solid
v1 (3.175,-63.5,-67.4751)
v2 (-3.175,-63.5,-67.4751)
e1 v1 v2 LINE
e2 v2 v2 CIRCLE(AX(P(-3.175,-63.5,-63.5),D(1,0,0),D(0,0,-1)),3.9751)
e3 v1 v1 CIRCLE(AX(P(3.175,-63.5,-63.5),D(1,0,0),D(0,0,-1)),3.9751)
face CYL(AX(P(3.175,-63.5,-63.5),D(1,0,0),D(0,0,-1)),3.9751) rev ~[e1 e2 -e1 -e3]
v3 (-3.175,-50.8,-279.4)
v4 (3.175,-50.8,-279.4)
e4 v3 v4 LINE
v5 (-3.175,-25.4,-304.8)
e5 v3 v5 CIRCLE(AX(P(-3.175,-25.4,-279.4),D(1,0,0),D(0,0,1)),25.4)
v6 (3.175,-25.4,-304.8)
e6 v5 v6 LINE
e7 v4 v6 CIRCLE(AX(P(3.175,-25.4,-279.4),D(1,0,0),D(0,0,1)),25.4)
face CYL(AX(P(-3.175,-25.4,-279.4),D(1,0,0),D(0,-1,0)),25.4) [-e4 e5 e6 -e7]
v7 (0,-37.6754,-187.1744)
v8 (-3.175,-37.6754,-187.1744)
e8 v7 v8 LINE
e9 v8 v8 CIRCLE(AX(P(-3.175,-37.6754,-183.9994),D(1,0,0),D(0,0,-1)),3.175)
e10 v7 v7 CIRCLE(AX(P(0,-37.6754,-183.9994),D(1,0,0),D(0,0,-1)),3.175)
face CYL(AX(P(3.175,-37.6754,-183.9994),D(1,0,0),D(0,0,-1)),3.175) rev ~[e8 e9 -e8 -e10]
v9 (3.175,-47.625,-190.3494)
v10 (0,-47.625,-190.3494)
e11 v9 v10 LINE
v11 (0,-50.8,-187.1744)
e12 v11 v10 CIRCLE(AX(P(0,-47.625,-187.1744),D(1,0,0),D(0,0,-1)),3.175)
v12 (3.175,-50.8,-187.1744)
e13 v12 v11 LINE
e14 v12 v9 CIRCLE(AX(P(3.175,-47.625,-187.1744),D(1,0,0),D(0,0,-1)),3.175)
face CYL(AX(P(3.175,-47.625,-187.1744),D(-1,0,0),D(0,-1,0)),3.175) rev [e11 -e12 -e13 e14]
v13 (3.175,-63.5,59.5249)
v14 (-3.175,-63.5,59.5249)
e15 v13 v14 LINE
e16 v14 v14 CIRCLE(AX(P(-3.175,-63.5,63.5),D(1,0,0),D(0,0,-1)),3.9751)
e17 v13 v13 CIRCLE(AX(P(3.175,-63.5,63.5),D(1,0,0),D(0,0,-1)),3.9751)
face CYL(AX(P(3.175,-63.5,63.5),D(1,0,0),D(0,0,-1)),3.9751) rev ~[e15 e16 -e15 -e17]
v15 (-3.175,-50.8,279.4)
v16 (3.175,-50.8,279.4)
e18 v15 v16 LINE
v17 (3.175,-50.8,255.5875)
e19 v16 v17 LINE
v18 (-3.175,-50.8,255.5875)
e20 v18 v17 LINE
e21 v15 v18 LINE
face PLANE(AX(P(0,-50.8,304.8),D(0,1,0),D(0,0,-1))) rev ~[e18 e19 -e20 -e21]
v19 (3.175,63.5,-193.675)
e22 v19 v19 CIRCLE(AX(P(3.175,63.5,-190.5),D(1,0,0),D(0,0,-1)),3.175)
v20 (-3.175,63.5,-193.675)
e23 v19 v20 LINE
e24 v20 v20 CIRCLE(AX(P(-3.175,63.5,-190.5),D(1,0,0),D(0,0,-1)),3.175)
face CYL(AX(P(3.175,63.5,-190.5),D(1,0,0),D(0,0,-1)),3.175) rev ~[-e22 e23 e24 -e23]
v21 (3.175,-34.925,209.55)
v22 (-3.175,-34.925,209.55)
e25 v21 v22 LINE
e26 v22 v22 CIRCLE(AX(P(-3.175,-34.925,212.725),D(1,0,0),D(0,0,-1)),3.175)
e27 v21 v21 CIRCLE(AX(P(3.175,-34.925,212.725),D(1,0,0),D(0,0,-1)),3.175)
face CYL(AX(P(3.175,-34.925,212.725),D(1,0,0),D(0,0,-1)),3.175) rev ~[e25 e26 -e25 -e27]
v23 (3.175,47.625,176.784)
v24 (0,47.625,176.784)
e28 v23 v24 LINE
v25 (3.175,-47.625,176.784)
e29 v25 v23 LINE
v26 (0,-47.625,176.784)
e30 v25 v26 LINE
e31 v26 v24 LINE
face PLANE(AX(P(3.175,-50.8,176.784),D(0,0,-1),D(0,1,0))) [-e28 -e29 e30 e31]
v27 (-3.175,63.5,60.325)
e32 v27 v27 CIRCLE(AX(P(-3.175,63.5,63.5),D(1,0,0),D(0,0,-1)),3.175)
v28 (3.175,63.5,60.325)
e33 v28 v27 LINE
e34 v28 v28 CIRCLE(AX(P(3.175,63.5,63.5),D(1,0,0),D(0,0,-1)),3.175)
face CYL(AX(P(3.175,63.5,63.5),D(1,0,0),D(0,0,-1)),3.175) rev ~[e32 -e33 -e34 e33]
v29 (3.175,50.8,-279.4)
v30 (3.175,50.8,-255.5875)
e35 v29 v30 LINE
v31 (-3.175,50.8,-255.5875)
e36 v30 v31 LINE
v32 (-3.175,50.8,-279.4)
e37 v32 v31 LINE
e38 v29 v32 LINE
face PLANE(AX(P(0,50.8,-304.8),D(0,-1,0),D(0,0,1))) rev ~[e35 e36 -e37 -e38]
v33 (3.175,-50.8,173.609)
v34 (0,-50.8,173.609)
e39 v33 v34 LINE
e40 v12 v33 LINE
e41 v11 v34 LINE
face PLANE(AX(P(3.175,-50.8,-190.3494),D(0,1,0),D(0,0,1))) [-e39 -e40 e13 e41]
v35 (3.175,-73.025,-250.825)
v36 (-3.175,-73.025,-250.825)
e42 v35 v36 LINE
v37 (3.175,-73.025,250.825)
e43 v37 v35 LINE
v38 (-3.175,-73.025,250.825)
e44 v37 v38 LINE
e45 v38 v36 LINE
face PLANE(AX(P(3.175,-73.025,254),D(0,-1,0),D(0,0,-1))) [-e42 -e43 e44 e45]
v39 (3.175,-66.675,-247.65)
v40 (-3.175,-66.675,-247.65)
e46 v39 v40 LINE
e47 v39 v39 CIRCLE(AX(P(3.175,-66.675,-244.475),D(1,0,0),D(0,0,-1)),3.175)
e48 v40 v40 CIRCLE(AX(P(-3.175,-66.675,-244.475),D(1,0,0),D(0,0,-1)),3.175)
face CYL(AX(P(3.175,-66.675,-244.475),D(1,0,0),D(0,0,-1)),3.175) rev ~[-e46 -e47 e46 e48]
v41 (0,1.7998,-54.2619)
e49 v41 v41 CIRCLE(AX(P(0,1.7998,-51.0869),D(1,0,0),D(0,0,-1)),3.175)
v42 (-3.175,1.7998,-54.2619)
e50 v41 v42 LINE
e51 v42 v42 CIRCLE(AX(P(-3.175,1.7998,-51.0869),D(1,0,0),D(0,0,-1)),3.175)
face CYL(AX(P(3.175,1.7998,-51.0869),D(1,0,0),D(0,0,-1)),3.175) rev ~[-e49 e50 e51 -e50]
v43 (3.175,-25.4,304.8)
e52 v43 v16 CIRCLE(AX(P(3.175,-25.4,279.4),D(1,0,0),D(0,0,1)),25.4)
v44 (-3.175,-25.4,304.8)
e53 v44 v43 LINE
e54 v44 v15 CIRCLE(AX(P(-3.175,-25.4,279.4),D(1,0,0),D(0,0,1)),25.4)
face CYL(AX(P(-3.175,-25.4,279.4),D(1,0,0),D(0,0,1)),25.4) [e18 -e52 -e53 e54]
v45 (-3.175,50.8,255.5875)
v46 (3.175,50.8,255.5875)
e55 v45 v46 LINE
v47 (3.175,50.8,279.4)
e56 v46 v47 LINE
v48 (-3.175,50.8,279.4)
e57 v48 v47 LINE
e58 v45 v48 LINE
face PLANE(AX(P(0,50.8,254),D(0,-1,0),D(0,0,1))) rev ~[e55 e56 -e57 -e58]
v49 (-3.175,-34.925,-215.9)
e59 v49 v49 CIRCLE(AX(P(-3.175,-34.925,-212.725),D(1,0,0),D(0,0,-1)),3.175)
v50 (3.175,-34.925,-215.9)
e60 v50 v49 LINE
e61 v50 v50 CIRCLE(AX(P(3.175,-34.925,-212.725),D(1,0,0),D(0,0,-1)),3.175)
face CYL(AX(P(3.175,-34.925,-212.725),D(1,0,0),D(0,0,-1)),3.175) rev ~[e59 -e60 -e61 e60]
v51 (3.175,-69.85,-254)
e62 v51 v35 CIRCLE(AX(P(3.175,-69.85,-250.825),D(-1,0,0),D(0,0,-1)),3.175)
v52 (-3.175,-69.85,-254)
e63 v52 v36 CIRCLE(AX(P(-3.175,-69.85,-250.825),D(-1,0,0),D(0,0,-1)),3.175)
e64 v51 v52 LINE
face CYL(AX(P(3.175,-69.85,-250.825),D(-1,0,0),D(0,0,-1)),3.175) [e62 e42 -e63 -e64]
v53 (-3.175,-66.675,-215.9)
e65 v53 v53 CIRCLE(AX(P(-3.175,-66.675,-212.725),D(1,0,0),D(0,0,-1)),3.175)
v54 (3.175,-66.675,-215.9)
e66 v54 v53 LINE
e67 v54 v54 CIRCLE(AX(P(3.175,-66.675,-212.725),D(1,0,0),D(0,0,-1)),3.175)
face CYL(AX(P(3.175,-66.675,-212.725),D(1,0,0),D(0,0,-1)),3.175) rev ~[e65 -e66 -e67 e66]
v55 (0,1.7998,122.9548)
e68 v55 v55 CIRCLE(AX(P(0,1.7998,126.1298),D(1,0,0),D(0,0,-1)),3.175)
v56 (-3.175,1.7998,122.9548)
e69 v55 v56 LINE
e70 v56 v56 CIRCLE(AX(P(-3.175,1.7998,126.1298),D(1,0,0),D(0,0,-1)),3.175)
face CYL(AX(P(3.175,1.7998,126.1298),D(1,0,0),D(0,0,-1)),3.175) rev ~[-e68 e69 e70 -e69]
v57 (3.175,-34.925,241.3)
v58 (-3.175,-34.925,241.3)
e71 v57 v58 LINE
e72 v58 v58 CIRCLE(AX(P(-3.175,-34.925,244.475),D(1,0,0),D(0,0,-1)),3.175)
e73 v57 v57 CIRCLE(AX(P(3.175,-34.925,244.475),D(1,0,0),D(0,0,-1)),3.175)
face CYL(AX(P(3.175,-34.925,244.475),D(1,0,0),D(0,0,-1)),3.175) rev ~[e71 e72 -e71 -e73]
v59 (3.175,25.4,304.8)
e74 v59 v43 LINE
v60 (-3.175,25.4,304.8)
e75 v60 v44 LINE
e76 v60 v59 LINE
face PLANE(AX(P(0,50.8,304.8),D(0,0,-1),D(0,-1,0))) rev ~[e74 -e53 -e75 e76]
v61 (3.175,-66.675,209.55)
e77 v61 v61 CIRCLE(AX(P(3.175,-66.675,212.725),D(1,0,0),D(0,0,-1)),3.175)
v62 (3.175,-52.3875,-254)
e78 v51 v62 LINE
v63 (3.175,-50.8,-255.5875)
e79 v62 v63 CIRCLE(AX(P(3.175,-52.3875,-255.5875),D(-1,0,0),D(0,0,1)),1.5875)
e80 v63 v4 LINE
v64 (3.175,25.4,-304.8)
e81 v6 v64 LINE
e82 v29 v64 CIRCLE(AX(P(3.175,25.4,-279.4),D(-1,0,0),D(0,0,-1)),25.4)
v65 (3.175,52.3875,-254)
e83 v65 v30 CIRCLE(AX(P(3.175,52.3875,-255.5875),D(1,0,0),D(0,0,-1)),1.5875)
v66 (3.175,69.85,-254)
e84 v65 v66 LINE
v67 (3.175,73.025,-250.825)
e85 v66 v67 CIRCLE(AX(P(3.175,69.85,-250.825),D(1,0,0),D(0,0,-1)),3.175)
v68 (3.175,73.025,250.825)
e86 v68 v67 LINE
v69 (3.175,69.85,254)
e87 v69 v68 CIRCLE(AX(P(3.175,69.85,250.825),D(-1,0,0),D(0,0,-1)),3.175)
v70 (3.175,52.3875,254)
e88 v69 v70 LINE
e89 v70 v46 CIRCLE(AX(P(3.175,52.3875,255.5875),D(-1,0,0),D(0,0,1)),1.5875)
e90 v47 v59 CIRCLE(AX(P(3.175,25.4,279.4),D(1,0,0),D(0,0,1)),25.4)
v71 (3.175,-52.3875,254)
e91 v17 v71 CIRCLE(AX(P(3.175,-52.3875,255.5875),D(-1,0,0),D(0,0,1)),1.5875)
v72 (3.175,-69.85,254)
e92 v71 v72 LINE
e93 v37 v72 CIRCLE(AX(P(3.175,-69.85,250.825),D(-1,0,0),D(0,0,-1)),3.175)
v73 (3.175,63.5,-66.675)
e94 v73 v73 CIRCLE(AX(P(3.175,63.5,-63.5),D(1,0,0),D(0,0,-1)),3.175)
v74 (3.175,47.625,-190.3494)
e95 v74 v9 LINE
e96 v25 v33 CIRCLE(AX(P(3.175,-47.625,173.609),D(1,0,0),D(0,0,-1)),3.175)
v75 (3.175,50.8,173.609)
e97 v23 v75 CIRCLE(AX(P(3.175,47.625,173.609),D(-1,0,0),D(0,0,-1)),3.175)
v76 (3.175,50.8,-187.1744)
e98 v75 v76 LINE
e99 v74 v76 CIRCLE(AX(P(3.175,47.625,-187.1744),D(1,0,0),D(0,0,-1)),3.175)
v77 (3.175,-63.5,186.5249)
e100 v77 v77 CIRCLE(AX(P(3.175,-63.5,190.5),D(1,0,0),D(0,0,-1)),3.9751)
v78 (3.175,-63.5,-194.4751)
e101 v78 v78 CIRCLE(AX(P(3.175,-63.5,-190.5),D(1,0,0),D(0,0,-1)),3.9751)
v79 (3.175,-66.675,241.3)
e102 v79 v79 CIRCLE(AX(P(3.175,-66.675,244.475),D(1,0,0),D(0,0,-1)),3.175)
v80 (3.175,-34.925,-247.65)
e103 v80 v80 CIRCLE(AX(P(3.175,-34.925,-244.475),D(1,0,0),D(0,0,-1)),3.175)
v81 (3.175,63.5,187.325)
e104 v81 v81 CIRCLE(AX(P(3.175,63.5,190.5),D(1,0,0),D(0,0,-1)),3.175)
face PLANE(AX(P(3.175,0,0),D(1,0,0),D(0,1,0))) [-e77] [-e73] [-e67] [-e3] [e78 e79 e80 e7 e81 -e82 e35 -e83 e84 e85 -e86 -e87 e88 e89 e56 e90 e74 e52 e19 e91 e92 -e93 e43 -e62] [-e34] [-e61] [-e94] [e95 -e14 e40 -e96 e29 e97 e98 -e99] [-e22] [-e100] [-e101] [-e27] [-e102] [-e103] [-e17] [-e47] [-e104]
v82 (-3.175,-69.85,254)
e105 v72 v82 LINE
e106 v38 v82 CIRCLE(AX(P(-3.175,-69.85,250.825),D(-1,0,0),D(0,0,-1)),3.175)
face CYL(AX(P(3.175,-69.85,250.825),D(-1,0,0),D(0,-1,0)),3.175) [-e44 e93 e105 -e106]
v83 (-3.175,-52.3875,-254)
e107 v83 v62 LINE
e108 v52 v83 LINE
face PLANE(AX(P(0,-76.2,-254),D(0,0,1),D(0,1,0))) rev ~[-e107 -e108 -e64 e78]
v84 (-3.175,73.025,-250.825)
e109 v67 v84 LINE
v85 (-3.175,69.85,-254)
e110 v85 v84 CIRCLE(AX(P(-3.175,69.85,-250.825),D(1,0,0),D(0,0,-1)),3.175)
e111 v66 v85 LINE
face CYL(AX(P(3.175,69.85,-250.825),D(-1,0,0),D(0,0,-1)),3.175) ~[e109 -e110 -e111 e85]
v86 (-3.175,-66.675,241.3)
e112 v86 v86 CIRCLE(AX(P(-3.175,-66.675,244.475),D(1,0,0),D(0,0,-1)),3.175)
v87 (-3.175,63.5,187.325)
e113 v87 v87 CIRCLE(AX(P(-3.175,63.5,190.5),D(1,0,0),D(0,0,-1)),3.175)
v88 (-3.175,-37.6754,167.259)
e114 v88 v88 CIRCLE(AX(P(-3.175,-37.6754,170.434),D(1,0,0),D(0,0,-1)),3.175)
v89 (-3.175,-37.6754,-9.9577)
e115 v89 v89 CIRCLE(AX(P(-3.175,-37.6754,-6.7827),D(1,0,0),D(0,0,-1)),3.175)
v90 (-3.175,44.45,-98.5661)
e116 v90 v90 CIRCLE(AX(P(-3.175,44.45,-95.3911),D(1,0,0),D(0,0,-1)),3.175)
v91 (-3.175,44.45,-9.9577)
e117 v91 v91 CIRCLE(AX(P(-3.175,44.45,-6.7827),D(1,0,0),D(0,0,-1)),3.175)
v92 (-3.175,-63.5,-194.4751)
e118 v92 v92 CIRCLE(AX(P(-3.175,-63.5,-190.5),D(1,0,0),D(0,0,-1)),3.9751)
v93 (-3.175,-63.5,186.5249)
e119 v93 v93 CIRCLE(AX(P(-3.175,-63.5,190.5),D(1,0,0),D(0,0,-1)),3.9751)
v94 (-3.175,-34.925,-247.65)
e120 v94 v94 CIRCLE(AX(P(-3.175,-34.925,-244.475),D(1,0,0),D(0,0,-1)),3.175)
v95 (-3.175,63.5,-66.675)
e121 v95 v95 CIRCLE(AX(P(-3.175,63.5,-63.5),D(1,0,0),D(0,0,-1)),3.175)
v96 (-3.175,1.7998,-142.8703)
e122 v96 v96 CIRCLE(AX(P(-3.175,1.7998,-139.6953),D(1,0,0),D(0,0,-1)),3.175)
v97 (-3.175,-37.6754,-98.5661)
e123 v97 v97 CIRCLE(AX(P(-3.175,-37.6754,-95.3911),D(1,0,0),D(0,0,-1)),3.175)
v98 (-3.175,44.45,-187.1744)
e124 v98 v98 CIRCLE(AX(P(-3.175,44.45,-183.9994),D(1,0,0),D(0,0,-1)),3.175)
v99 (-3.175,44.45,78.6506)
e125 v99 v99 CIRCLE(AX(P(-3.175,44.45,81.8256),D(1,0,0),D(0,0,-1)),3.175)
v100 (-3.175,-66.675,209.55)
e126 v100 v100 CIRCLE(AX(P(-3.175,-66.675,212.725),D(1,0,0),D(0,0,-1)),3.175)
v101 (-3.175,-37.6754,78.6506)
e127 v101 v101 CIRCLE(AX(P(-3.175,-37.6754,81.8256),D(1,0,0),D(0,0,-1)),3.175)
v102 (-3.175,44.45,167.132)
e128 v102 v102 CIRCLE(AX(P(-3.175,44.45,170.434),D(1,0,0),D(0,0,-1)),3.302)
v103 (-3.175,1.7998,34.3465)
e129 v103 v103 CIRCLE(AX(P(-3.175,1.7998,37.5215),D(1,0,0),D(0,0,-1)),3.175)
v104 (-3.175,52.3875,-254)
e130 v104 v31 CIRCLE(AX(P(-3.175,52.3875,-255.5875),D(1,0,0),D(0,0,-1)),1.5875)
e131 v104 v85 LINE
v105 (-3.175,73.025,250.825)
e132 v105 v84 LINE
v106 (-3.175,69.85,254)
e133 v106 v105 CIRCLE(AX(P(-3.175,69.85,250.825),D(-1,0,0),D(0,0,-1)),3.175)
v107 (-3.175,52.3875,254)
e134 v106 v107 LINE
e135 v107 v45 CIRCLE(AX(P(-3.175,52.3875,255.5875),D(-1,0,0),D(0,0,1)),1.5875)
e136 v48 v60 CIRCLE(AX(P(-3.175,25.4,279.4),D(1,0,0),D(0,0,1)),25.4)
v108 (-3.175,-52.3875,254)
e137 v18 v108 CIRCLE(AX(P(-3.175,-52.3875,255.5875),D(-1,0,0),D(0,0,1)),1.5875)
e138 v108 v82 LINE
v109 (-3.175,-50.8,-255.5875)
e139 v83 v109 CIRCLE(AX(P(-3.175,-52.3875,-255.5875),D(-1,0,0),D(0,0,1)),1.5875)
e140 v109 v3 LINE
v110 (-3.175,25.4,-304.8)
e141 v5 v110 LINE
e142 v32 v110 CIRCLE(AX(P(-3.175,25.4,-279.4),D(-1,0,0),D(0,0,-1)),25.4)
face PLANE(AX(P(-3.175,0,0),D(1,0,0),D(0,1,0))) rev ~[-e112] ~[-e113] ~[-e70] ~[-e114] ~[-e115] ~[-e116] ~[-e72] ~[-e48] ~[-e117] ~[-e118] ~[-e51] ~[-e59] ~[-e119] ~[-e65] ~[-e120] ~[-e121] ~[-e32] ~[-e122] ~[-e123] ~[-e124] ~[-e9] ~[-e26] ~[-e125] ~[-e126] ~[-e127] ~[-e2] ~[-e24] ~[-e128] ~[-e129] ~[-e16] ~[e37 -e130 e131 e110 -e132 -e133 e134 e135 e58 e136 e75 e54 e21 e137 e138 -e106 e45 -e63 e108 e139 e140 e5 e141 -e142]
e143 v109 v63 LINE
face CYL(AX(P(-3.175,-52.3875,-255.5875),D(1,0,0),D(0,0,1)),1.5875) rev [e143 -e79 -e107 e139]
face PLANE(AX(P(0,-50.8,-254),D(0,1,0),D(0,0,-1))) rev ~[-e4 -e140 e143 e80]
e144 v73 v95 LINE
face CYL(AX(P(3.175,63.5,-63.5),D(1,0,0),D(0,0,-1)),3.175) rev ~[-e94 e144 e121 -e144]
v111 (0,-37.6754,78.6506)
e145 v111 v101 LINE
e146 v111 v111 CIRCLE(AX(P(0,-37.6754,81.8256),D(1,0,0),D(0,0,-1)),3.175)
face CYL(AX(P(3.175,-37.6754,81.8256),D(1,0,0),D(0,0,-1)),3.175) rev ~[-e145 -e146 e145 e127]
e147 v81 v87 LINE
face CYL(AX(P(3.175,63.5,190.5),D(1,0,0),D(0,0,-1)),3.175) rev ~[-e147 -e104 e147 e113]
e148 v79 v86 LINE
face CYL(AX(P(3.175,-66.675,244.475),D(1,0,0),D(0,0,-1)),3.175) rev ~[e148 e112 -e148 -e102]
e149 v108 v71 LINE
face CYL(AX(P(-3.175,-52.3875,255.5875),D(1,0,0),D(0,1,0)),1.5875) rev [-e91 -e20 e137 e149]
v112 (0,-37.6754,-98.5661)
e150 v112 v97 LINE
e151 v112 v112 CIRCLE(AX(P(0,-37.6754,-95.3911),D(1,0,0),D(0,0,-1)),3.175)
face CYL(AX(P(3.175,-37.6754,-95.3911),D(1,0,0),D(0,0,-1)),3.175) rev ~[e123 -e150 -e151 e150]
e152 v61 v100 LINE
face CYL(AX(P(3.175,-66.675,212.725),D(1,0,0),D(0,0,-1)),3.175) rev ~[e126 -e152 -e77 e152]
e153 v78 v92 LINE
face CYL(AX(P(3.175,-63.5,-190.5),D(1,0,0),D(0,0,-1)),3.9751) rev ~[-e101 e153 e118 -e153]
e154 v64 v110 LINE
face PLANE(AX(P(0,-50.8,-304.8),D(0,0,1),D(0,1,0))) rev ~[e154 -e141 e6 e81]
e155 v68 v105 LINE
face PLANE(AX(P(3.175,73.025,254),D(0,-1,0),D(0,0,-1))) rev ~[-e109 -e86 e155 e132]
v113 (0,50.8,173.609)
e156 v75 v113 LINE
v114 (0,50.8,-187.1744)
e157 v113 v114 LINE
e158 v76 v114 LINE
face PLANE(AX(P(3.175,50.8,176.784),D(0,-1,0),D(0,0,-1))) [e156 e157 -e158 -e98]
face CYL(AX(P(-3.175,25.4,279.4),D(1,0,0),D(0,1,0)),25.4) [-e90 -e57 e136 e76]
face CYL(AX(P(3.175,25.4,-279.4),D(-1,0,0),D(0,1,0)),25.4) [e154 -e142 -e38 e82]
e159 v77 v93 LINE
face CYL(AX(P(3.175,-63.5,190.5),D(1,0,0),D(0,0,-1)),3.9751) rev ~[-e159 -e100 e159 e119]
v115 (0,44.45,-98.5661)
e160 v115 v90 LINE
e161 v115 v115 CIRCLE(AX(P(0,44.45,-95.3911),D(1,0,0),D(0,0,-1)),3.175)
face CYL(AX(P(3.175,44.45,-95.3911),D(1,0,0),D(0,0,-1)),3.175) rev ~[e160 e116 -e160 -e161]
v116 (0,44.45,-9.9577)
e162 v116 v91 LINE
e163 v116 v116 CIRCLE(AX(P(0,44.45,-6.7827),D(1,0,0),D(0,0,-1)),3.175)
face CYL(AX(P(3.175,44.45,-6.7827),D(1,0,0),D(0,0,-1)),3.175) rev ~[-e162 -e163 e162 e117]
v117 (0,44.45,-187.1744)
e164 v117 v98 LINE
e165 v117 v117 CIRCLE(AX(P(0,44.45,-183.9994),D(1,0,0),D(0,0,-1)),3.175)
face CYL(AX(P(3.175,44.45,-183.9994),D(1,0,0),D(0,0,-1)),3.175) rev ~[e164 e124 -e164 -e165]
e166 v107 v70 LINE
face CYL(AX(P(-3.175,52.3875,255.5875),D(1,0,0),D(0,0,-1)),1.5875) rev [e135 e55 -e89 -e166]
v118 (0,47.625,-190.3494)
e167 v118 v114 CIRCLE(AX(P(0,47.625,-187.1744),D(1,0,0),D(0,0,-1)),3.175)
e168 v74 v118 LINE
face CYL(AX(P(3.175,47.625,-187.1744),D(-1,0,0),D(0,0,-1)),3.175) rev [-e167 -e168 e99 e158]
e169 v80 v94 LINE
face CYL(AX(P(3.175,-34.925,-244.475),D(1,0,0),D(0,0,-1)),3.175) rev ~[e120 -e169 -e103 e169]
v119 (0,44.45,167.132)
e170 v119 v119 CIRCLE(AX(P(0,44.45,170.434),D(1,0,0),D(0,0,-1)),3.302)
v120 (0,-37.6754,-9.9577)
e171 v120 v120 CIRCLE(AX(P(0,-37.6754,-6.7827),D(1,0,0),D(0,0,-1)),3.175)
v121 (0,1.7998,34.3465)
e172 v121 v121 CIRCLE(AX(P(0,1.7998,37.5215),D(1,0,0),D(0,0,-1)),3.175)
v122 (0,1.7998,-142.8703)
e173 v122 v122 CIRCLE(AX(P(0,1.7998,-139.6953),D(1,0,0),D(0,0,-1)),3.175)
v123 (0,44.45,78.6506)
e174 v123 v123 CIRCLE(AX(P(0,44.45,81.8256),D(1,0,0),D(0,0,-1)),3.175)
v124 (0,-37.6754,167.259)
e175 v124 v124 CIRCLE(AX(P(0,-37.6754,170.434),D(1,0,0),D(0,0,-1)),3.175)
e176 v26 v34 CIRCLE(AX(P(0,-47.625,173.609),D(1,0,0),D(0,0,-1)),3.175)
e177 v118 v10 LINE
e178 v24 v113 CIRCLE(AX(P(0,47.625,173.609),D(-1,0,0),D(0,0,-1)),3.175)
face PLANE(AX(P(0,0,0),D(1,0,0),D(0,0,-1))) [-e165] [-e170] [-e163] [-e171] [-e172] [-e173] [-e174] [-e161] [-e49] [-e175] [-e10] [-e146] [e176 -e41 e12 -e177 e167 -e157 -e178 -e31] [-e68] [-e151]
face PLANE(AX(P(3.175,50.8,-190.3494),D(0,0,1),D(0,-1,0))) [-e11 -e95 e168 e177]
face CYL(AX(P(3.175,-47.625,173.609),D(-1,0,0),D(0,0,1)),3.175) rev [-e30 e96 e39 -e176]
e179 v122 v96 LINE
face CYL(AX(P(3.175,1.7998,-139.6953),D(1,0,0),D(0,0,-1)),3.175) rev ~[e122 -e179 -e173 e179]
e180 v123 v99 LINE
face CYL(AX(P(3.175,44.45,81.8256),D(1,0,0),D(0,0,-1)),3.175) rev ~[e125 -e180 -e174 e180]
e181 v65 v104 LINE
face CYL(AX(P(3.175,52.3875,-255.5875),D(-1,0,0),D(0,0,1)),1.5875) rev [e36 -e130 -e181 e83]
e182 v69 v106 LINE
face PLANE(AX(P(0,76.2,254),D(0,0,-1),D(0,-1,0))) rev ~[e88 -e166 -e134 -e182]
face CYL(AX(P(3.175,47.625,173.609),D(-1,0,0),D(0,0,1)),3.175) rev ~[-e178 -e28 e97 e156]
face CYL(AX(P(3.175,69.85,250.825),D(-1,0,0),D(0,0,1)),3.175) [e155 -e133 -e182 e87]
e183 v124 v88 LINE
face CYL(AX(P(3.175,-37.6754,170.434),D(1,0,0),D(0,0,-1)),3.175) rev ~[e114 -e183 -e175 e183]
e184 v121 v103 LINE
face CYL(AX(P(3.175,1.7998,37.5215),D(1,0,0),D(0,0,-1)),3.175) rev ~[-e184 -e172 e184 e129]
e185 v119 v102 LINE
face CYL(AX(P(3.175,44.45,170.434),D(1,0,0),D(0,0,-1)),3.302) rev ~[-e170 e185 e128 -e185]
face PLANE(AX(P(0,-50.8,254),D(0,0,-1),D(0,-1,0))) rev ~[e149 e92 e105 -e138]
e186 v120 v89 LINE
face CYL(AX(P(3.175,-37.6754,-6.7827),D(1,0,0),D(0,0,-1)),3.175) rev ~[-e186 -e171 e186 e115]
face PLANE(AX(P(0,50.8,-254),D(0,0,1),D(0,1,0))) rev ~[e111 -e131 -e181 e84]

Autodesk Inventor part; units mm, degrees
ref_plane "YZ Plane" through (0, 0, 0) normal (1, 0, 0) x (0, 1, 0)
ref_plane "XZ Plane" through (0, 0, 0) normal (0, 1, 0) x (-1, 0, 0)
ref_plane "XY Plane" through (0, 0, 0) normal (0, 0, 1) x (1, 0, 0)
sketch "Sketch1" plane through (0, 0, 0) normal (1, 0, 0) x (0, 1, 0)
  line L0 (76.2, 254) -> (-76.2, 254)
  line L1 (-76.2, 254) -> (-76.2, -254)
  line L2 (-76.2, -254) -> (76.2, -254)
  line L3 (76.2, -254) -> (76.2, 254)
  line L4 (76.2, 254) -> (-76.2, -254) construction
  line L5 (-76.2, 254) -> (76.2, -254) construction
  line L6 (50.8, 304.8) -> (-50.8, 304.8)
  line L7 (-50.8, 304.8) -> (-50.8, 254)
  line L8 (-50.8, 254) -> (50.8, 254)
  line L9 (50.8, 254) -> (50.8, 304.8)
  line L10 (50.8, 304.8) -> (-50.8, 254) construction
  line L11 (-50.8, 304.8) -> (50.8, 254) construction
  line L12 (50.8, -254) -> (-50.8, -254)
  line L13 (-50.8, -254) -> (-50.8, -304.8)
  line L14 (-50.8, -304.8) -> (50.8, -304.8)
  line L15 (50.8, -304.8) -> (50.8, -254)
  line L16 (50.8, -254) -> (-50.8, -304.8) construction
  line L17 (-50.8, -254) -> (50.8, -304.8) construction
  line L18 (0, 279.4) -> (0, -279.4) construction
  point P0 (0, 0)
  point P1 (-50.8, -254)
  point P2 (50.8, 254)
  dimension "d0" = 152.4
  dimension "d1" = 508
  dimension "d9" = 50.8
  dimension "d10" = 101.6
extrude "Extrusion1" add sketch "Sketch1" along normal mid plane 6.35
sketch "Sketch3" plane through (3.175, 0, 0) normal (1, 0, 0) x (0, 0, -1)
  line L0 (-241.3, 44.45) -> (-201.6125, 44.45)
  line L1 (-201.6125, 44.45) -> (-201.6125, -44.45)
  line L2 (-201.6125, -44.45) -> (-241.3, -44.45)
  line L3 (-241.3, -44.45) -> (-241.3, 44.45)
  line L4 (-179.3875, 44.45) -> (-125.857, 44.45)
  line L5 (-125.857, 44.45) -> (-125.857, -44.45)
  line L6 (-125.857, -44.45) -> (-179.3875, -44.45)
  line L7 (-179.3875, -44.45) -> (-179.3875, 44.45)
  line L8 (-103.632, 44.45) -> (50.8, 44.45)
  line L9 (50.8, 44.45) -> (50.8, -44.45)
  line L10 (50.8, -44.45) -> (-103.632, -44.45)
  line L11 (-103.632, -44.45) -> (-103.632, 44.45)
  line L12 (74.6125, 44.45) -> (179.3875, 44.45)
  line L13 (179.3875, 44.45) -> (179.3875, -44.45)
  line L14 (179.3875, -44.45) -> (74.6125, -44.45)
  line L15 (74.6125, -44.45) -> (74.6125, 44.45)
  line L16 (201.6125, -44.45) -> (241.3, -44.45)
  line L17 (241.3, -44.45) -> (241.3, 44.45)
  line L18 (241.3, 44.45) -> (201.6125, 44.45)
  line L19 (201.6125, 44.45) -> (201.6125, -44.45)
  line L20 (-201.6125, 0) -> (-179.3875, 0) construction
  line L21 (-125.857, 0) -> (-103.632, 0) construction
  line L22 (179.3875, 0) -> (201.6125, 0) construction
  line L23 (-254, -50.8) -> (-254, -76.2) construction
  circle A0 centre (-190.5, 63.5) radius 3.175
  line L24 (-190.5, 63.5) -> (-190.5, 0) construction
  line L25 (-190.5, 0) -> (-190.5, -63.5) construction
  circle A1 centre (-190.5, -63.5) radius 3.9751
  circle A2 centre (-63.5, 63.5) radius 3.175
  circle A3 centre (-63.5, -63.5) radius 3.9751
  circle A4 centre (63.5, 63.5) radius 3.175
  circle A5 centre (63.5, -63.5) radius 3.9751
  circle A6 centre (190.5, 63.5) radius 3.175
  circle A7 centre (190.5, -63.5) radius 3.9751
  line L26 (-125.857, 44.45) -> (-103.632, 44.45)
  line L27 (-103.632, 44.45) -> (-103.632, -44.45)
  line L28 (-103.632, -44.45) -> (-125.857, -44.45)
  line L29 (-125.857, -44.45) -> (-125.857, 44.45)
  line L30 (254, -76.2) -> (254, -50.8) projected
  line L31 (-254, -76.2) -> (254, -76.2) projected
  point P0 (0, 0)
  point P1 (0, 0)
  point P2 (-114.7445, 0)
  dimension "d12" = 22.225
  dimension "d13" = 12.7
  dimension "d14" = 88.9
  dimension "d16" = 6.35
  dimension "d17" = 7.9502
  dimension "d20" = 127
  dimension "d29" = 12.7
  dimension "d30" = 63.5
  dimension "d31" = 12.7
  dimension "d32" = 11.1125
  dimension "d33" = 31.75
  dimension "d34" = 127
  dimension "d35" = 63.5
  dimension "d39" = 154.432
extrude "Extrusion3" [suppressed]
fillet "Fillet1" radius 25.4 4 edges at (0, 50.8, 304.8) (0, -50.8, 304.8) (0, 50.8, -304.8) (0, -50.8, -304.8)
fillet "Fillet1" radius 1.5875 8 edges at (0, 50.8, 254) (0, -50.8, 254) (0, -76.2, 254) (0, 76.2, 254) (0, 76.2, -254) (0, 50.8, -254) (0, -50.8, -254) (0, -76.2, -254)
sketch "Sketch4" plane through (-3.175, 0, 0) normal (-1, 0, 0) x (0, 0, 1)
  line L0 (-182.626, 63.5635) -> (-141.351, 63.5635) construction
  line L1 (-254, 74.6125) -> (-254, 52.3875) construction
  line L2 (252.4125, 76.2) -> (-252.4125, 76.2) construction
  point P0 (0, 0)
  dimension "d36" = 71.374
  dimension "d37" = 12.6365
  dimension "d38" = 41.275
extrude "Extrusion4" cut sketch "Sketch3" against normal through all contours A0 | A1 | A2 | A3 | A4 | A5 | A6 | A7
sketch "Sketch6" plane through (3.175, 0, 0) normal (1, 0, 0) x (0, 0, -1)
  circle A0 centre (63.5, 63.5) radius 3.175 projected
  circle A1 centre (-63.5, -63.5) radius 3.9751 projected
  circle A2 centre (63.5, -63.5) radius 3.9751 projected
  circle A3 centre (-63.5, 63.5) radius 3.175 projected
  circle A4 centre (190.5, 63.5) radius 3.175 projected
  circle A5 centre (-190.5, -63.5) radius 3.9751 projected
  circle A6 centre (190.5, -63.5) radius 3.9751 projected
  circle A7 centre (-190.5, 63.5) radius 3.175 projected
  arc A8 (252.4125, -76.2) -> (254, -74.6125) centre (252.4125, -74.6125) ccw projected
  line L0 (254, -74.6125) -> (254, -52.3875) projected
  arc A9 (255.5875, -50.8) -> (254, -52.3875) centre (255.5875, -52.3875) ccw projected
  line L1 (255.5875, -50.8) -> (279.4, -50.8) projected
  arc A10 (279.4, -50.8) -> (304.8, -25.4) centre (279.4, -25.4) ccw projected
  line L2 (304.8, -25.4) -> (304.8, 25.4) projected
  arc A11 (304.8, 25.4) -> (279.4, 50.8) centre (279.4, 25.4) ccw projected
  line L3 (279.4, 50.8) -> (255.5875, 50.8) projected
  arc A12 (254, 52.3875) -> (255.5875, 50.8) centre (255.5875, 52.3875) ccw projected
  line L4 (254, 52.3875) -> (254, 74.6125) projected
  arc A13 (254, 74.6125) -> (252.4125, 76.2) centre (252.4125, 74.6125) ccw projected
  line L5 (252.4125, 76.2) -> (-252.4125, 76.2) projected
  arc A14 (-252.4125, 76.2) -> (-254, 74.6125) centre (-252.4125, 74.6125) ccw projected
  line L6 (-254, 74.6125) -> (-254, 52.3875) projected
  arc A15 (-255.5875, 50.8) -> (-254, 52.3875) centre (-255.5875, 52.3875) ccw projected
  line L7 (-255.5875, 50.8) -> (-279.4, 50.8) projected
  arc A16 (-279.4, 50.8) -> (-304.8, 25.4) centre (-279.4, 25.4) ccw projected
  line L8 (-304.8, 25.4) -> (-304.8, -25.4) projected
  arc A17 (-304.8, -25.4) -> (-279.4, -50.8) centre (-279.4, -25.4) ccw projected
  line L9 (-279.4, -50.8) -> (-255.5875, -50.8) projected
  arc A18 (-254, -52.3875) -> (-255.5875, -50.8) centre (-255.5875, -52.3875) ccw projected
  line L10 (-254, -52.3875) -> (-254, -74.6125) projected
  arc A19 (-254, -74.6125) -> (-252.4125, -76.2) centre (-252.4125, -74.6125) ccw projected
  line L11 (-252.4125, -76.2) -> (252.4125, -76.2) projected
  line L12 (-279.4, 47.625) -> (-255.5875, 47.625)
  arc A20 (-255.5875, 47.625) -> (-250.825, 52.3875) centre (-255.5875, 52.3875) ccw
  line L13 (-250.825, 52.3875) -> (-250.825, 73.025)
  line L14 (-250.825, 73.025) -> (250.825, 73.025)
  line L15 (250.825, 73.025) -> (250.825, 52.3875)
  arc A21 (250.825, 52.3875) -> (255.5875, 47.625) centre (255.5875, 52.3875) ccw
  line L16 (255.5875, 47.625) -> (279.4, 47.625)
  arc A22 (301.625, 25.4) -> (279.4, 47.625) centre (279.4, 25.4) ccw
  line L17 (301.625, 25.4) -> (301.625, -25.4)
  arc A23 (279.4, -47.625) -> (301.625, -25.4) centre (279.4, -25.4) ccw
  line L18 (279.4, -47.625) -> (255.5875, -47.625)
  arc A24 (255.5875, -47.625) -> (250.825, -52.3875) centre (255.5875, -52.3875) ccw
  line L19 (250.825, -52.3875) -> (250.825, -73.025)
  line L20 (250.825, -73.025) -> (-250.825, -73.025)
  line L21 (-250.825, -73.025) -> (-250.825, -52.3875)
  arc A25 (-250.825, -52.3875) -> (-255.5875, -47.625) centre (-255.5875, -52.3875) ccw
  line L22 (-255.5875, -47.625) -> (-279.4, -47.625)
  arc A26 (-301.625, -25.4) -> (-279.4, -47.625) centre (-279.4, -25.4) ccw
  line L23 (-301.625, -25.4) -> (-301.625, 25.4)
  arc A27 (-279.4, 47.625) -> (-301.625, 25.4) centre (-279.4, 25.4) ccw
  line L24 (-295.0658, 0) -> (-301.625, 0) construction
  line L25 (-176.784, 50.8) -> (190.3494, 50.8)
  line L26 (190.3494, 50.8) -> (190.3494, -50.8)
  line L27 (190.3494, -50.8) -> (-176.784, -50.8)
  line L28 (-176.784, -50.8) -> (-176.784, 50.8)
  line L29 (-254, -50.8) -> (254, -50.8) construction
  line L30 (254, -50.8) -> (254, -76.2) construction
  line L31 (254, -76.2) -> (-254, -76.2) construction
  line L32 (-254, -76.2) -> (-254, -50.8) construction
  line L33 (-254, 76.2) -> (254, 76.2) construction
  line L34 (254, 76.2) -> (254, 50.8) construction
  line L35 (254, 50.8) -> (-254, 50.8) construction
  line L36 (-254, 50.8) -> (-254, 76.2) construction
  circle A28 centre (-170.434, 44.45) radius 3.302
  circle A29 centre (183.9994, 44.45) radius 3.175
  circle A30 centre (-81.8256, 44.45) radius 3.175
  circle A31 centre (6.7827, 44.45) radius 3.175
  circle A32 centre (95.3911, 44.45) radius 3.175
  line L37 (-330.2, 73.025) -> (-330.2, -50.8) construction
  circle A33 centre (-37.5215, 1.7998) radius 3.175
  circle A34 centre (51.0869, 1.7998) radius 3.175
  line L38 (639.9011, -38.0592) -> (645.7898, -37.8143) construction
  circle A35 centre (228.6, -50.8) radius 12.7 construction
  circle A36 centre (-228.6, -50.8) radius 12.7 construction
  circle A37 centre (-228.6, -50.8) radius 15.875 construction
  line L39 (-244.475, -34.925) -> (-212.725, -34.925) construction
  line L40 (-212.725, -34.925) -> (-212.725, -66.675) construction
  line L41 (-212.725, -66.675) -> (-244.475, -66.675) construction
  line L42 (-244.475, -66.675) -> (-244.475, -34.925) construction
  circle A38 centre (228.6, -50.8) radius 15.875 construction
  line L43 (212.725, -34.925) -> (244.475, -34.925) construction
  line L44 (244.475, -34.925) -> (244.475, -66.675) construction
  line L45 (244.475, -66.675) -> (212.725, -66.675) construction
  line L46 (212.725, -66.675) -> (212.725, -34.925) construction
  circle A39 centre (-244.475, -34.925) radius 3.175
  circle A40 centre (-244.475, -66.675) radius 3.175
  circle A41 centre (-212.725, -66.675) radius 3.175
  circle A42 centre (-212.725, -34.925) radius 3.175
  circle A43 centre (212.725, -34.925) radius 3.175
  circle A44 centre (244.475, -34.925) radius 3.175
  circle A45 centre (212.725, -66.675) radius 3.175
  circle A46 centre (244.475, -66.675) radius 3.175
  line L47 (643.6065, -35.788) -> (639.9011, -38.0592) construction
  line L48 (6.7827, 50.8) -> (6.7827, -50.8) construction
  circle A47 centre (-126.1298, 1.7998) radius 3.175
  circle A48 centre (139.6953, 1.7998) radius 3.175
  circle A49 centre (-37.5215, 1.7998) radius 3.175
  circle A50 centre (51.0869, 1.7998) radius 3.175
  circle A51 centre (-126.1298, 1.7998) radius 3.175
  circle A52 centre (139.6953, 1.7998) radius 3.175
  circle A53 centre (-170.434, -37.6754) radius 3.175
  circle A54 centre (-81.8256, -37.6754) radius 3.175
  circle A55 centre (6.7827, -37.6754) radius 3.175
  circle A56 centre (95.3911, -37.6754) radius 3.175
  circle A57 centre (183.9994, -37.6754) radius 3.175
  dimension "d42" = 3.175
  dimension "d57" = 101.6
  dimension "d58" = 25.4
  dimension "d59" = 25.4
  dimension "d60" = 367.1334
  dimension "d61" = 6.35
  dimension "d62" = 6.35
  dimension "d63" = 6.35
  dimension "d64" = 6.35
  dimension "d65" = 6.604
  dimension "d66" = 6.35
  dimension "d69" = 6.35
  dimension "d70" = 6.35
  dimension "d71" = 6.35
  dimension "d73" = 25.4
  dimension "d82" = 6.35
  dimension "d84" = 6.35
  dimension "d119" = 25.4
  dimension "d120" = 25.4
  dimension "d121" = 76.2
  dimension "d124" = 25.4
  dimension "d125" = 76.2
  dimension "d126" = 25.4
  dimension "d127" = 3.175
  dimension "d128" = 3.175
  dimension "d129" = 6.35
  dimension "d130" = 6.35
  dimension "d131" = 6.35
  dimension "d132" = 6.35
  dimension "d133" = 6.35
  dimension "d134" = 6.35
  dimension "d135" = 6.35
  dimension "d136" = 6.35
  dimension "d139" = 177.2167
  dimension "d140" = 88.6084
  dimension "d141" = 88.6084
  dimension "d142" = 6.35
  dimension "d143" = 6.35
  dimension "d144" = 44.3042
  dimension "d145" = 44.3042
  dimension "d146" = 44.3042
  dimension "d147" = 44.3042
  dimension "d148" = 38.2506
  dimension "d149" = 6.35
  dimension "d151" = 6.35
  dimension "d152" = 6.35
  dimension "d153" = 6.35
  dimension "d154" = 6.35
  dimension "d155" = 42.6502
  dimension "d156" = 82.1254
extrude "Extrusion5" cut sketch "Sketch6" against normal blind 25.4 contours A28 | A29 | A30 | A31 | A32 | A33 | A34 | A47 | A48 | A53 | A54 | A55 | A56 | A57
extrude "Extrusion6" cut sketch "Sketch6" against normal blind 3.175 contours L25 L26 L27 L28 | A28 | A29 | A30 | A31 | A32 | A33 | A34 | A47 | A48 | A53 | A54 | A55 | A56 | A57
sketch "Sketch7" plane through (3.175, 0, 0) normal (1, 0, 0) x (0, 0, -1)
  line L0 (190.3494, 50.8) -> (190.3494, -50.8) projected
  line L1 (190.3494, -50.8) -> (-176.784, -50.8) projected
  line L2 (-176.784, -50.8) -> (-176.784, 50.8) projected
  line L3 (-176.784, 50.8) -> (190.3494, 50.8) projected
  circle A0 centre (63.5, 63.5) radius 3.175 projected
  circle A1 centre (-63.5, -63.5) radius 3.9751 projected
  circle A2 centre (63.5, -63.5) radius 3.9751 projected
  circle A3 centre (-63.5, 63.5) radius 3.175 projected
  circle A4 centre (190.5, 63.5) radius 3.175 projected
  circle A5 centre (-190.5, -63.5) radius 3.9751 projected
  circle A6 centre (190.5, -63.5) radius 3.9751 projected
  circle A7 centre (-190.5, 63.5) radius 3.175 projected
  arc A8 (252.4125, -76.2) -> (254, -74.6125) centre (252.4125, -74.6125) ccw projected
  line L4 (254, -74.6125) -> (254, -52.3875) projected
  arc A9 (255.5875, -50.8) -> (254, -52.3875) centre (255.5875, -52.3875) ccw projected
  line L5 (255.5875, -50.8) -> (279.4, -50.8) projected
  arc A10 (279.4, -50.8) -> (304.8, -25.4) centre (279.4, -25.4) ccw projected
  line L6 (304.8, -25.4) -> (304.8, 25.4) projected
  arc A11 (304.8, 25.4) -> (279.4, 50.8) centre (279.4, 25.4) ccw projected
  line L7 (279.4, 50.8) -> (255.5875, 50.8) projected
  arc A12 (254, 52.3875) -> (255.5875, 50.8) centre (255.5875, 52.3875) ccw projected
  line L8 (254, 52.3875) -> (254, 74.6125) projected
  arc A13 (254, 74.6125) -> (252.4125, 76.2) centre (252.4125, 74.6125) ccw projected
  line L9 (252.4125, 76.2) -> (-252.4125, 76.2) projected
  arc A14 (-252.4125, 76.2) -> (-254, 74.6125) centre (-252.4125, 74.6125) ccw projected
  line L10 (-254, 74.6125) -> (-254, 52.3875) projected
  arc A15 (-255.5875, 50.8) -> (-254, 52.3875) centre (-255.5875, 52.3875) ccw projected
  line L11 (-255.5875, 50.8) -> (-279.4, 50.8) projected
  arc A16 (-279.4, 50.8) -> (-304.8, 25.4) centre (-279.4, 25.4) ccw projected
  line L12 (-304.8, 25.4) -> (-304.8, -25.4) projected
  arc A17 (-304.8, -25.4) -> (-279.4, -50.8) centre (-279.4, -25.4) ccw projected
  line L13 (-279.4, -50.8) -> (-255.5875, -50.8) projected
  arc A18 (-254, -52.3875) -> (-255.5875, -50.8) centre (-255.5875, -52.3875) ccw projected
  line L14 (-254, -52.3875) -> (-254, -74.6125) projected
  arc A19 (-254, -74.6125) -> (-252.4125, -76.2) centre (-252.4125, -74.6125) ccw projected
  line L15 (-252.4125, -76.2) -> (252.4125, -76.2) projected
  line L16 (-250.825, 52.3875) -> (-250.825, 73.025)
  line L17 (-250.825, 73.025) -> (250.825, 73.025)
  line L18 (250.825, 73.025) -> (250.825, 52.3875)
  arc A20 (250.825, 52.3875) -> (255.5875, 47.625) centre (255.5875, 52.3875) ccw
  line L19 (255.5875, 47.625) -> (279.4, 47.625)
  arc A21 (301.625, 25.4) -> (279.4, 47.625) centre (279.4, 25.4) ccw
  line L20 (301.625, 25.4) -> (301.625, -25.4)
  arc A22 (279.4, -47.625) -> (301.625, -25.4) centre (279.4, -25.4) ccw
  line L21 (279.4, -47.625) -> (255.5875, -47.625)
  arc A23 (255.5875, -47.625) -> (250.825, -52.3875) centre (255.5875, -52.3875) ccw
  line L22 (250.825, -52.3875) -> (250.825, -73.025)
  line L23 (250.825, -73.025) -> (-250.825, -73.025)
  line L24 (-250.825, -73.025) -> (-250.825, -52.3875)
  arc A24 (-250.825, -52.3875) -> (-255.5875, -47.625) centre (-255.5875, -52.3875) ccw
  line L25 (-255.5875, -47.625) -> (-279.4, -47.625)
  arc A25 (-301.625, -25.4) -> (-279.4, -47.625) centre (-279.4, -25.4) ccw
  line L26 (-301.625, -25.4) -> (-301.625, 25.4)
  arc A26 (-279.4, 47.625) -> (-301.625, 25.4) centre (-279.4, 25.4) ccw
  line L27 (-279.4, 47.625) -> (-255.5875, 47.625)
  arc A27 (-255.5875, 47.625) -> (-250.825, 52.3875) centre (-255.5875, 52.3875) ccw
  line L28 (196.6994, 57.15) -> (196.6994, -57.15)
  line L29 (196.6994, -57.15) -> (-183.134, -57.15)
  line L30 (-183.134, -57.15) -> (-183.134, 57.15)
  line L31 (-183.134, 57.15) -> (196.6994, 57.15)
  circle A28 centre (-190.5, 63.5) radius 6.35
  circle A29 centre (-63.5, 63.5) radius 6.35
  circle A30 centre (63.5, 63.5) radius 6.35
  circle A31 centre (190.5, 63.5) radius 6.35
  circle A32 centre (-190.5, -63.5) radius 6.35
  circle A33 centre (-63.5, -63.5) radius 6.35
  circle A34 centre (63.5, -63.5) radius 6.35
  circle A35 centre (190.5, -63.5) radius 6.35
  point P0 (0, 0)
  dimension "d116" = 3.175
  dimension "d117" = 6.35
  dimension "d118" = 3.175
fillet "Fillet2" radius 3.175 4 edges at (1.5875, 50.8, 176.784) (1.5875, -50.8, 176.784) (1.5875, -50.8, -190.3494) (1.5875, 50.8, -190.3494)
extrude "Extrusion7" cut sketch "Sketch6" against normal blind 25.4 contours A39 | A40 | A41 | A42 | A43 | A44 | A45 | A46
sketch "Sketch9" plane through (3.175, 0, 0) normal (1, 0, 0) x (0, 0, -1)
  line L0 (-254, 74.6125) -> (-254, 52.3875) projected
  line L1 (-254, 73.025) -> (254, 73.025)
  line L2 (254, 52.3875) -> (254, 74.6125) projected
  line L3 (252.4125, 76.2) -> (-252.4125, 76.2) projected
  line L4 (-254, -52.3875) -> (-254, -74.6125) projected
  line L5 (-254, -73.025) -> (254, -73.025)
  line L6 (254, -52.3875) -> (254, -74.6125) projected
  line L7 (-252.4125, -76.2) -> (252.4125, -76.2) projected
  arc A0 (-252.4125, 76.2) -> (-254, 74.6125) centre (-252.4125, 74.6125) ccw projected
  arc A1 (254, 74.6125) -> (252.4125, 76.2) centre (252.4125, 74.6125) ccw projected
  arc A2 (252.4125, -76.2) -> (254, -74.6125) centre (252.4125, -74.6125) ccw projected
  arc A3 (-254, -74.6125) -> (-252.4125, -76.2) centre (-252.4125, -74.6125) ccw projected
  point P0 (0, 0)
  dimension "d157" = 3.175
  dimension "d158" = 3.175
extrude "Extrusion8" cut sketch "Sketch9" against normal blind 25.4
fillet "Fillet3" radius 3.175 4 edges at (0, 73.025, 254) (0, 73.025, -254) (0, -73.025, -254) (0, -73.025, 254)
properties part number "ChassisInterface" material "Aluminum 6061"
